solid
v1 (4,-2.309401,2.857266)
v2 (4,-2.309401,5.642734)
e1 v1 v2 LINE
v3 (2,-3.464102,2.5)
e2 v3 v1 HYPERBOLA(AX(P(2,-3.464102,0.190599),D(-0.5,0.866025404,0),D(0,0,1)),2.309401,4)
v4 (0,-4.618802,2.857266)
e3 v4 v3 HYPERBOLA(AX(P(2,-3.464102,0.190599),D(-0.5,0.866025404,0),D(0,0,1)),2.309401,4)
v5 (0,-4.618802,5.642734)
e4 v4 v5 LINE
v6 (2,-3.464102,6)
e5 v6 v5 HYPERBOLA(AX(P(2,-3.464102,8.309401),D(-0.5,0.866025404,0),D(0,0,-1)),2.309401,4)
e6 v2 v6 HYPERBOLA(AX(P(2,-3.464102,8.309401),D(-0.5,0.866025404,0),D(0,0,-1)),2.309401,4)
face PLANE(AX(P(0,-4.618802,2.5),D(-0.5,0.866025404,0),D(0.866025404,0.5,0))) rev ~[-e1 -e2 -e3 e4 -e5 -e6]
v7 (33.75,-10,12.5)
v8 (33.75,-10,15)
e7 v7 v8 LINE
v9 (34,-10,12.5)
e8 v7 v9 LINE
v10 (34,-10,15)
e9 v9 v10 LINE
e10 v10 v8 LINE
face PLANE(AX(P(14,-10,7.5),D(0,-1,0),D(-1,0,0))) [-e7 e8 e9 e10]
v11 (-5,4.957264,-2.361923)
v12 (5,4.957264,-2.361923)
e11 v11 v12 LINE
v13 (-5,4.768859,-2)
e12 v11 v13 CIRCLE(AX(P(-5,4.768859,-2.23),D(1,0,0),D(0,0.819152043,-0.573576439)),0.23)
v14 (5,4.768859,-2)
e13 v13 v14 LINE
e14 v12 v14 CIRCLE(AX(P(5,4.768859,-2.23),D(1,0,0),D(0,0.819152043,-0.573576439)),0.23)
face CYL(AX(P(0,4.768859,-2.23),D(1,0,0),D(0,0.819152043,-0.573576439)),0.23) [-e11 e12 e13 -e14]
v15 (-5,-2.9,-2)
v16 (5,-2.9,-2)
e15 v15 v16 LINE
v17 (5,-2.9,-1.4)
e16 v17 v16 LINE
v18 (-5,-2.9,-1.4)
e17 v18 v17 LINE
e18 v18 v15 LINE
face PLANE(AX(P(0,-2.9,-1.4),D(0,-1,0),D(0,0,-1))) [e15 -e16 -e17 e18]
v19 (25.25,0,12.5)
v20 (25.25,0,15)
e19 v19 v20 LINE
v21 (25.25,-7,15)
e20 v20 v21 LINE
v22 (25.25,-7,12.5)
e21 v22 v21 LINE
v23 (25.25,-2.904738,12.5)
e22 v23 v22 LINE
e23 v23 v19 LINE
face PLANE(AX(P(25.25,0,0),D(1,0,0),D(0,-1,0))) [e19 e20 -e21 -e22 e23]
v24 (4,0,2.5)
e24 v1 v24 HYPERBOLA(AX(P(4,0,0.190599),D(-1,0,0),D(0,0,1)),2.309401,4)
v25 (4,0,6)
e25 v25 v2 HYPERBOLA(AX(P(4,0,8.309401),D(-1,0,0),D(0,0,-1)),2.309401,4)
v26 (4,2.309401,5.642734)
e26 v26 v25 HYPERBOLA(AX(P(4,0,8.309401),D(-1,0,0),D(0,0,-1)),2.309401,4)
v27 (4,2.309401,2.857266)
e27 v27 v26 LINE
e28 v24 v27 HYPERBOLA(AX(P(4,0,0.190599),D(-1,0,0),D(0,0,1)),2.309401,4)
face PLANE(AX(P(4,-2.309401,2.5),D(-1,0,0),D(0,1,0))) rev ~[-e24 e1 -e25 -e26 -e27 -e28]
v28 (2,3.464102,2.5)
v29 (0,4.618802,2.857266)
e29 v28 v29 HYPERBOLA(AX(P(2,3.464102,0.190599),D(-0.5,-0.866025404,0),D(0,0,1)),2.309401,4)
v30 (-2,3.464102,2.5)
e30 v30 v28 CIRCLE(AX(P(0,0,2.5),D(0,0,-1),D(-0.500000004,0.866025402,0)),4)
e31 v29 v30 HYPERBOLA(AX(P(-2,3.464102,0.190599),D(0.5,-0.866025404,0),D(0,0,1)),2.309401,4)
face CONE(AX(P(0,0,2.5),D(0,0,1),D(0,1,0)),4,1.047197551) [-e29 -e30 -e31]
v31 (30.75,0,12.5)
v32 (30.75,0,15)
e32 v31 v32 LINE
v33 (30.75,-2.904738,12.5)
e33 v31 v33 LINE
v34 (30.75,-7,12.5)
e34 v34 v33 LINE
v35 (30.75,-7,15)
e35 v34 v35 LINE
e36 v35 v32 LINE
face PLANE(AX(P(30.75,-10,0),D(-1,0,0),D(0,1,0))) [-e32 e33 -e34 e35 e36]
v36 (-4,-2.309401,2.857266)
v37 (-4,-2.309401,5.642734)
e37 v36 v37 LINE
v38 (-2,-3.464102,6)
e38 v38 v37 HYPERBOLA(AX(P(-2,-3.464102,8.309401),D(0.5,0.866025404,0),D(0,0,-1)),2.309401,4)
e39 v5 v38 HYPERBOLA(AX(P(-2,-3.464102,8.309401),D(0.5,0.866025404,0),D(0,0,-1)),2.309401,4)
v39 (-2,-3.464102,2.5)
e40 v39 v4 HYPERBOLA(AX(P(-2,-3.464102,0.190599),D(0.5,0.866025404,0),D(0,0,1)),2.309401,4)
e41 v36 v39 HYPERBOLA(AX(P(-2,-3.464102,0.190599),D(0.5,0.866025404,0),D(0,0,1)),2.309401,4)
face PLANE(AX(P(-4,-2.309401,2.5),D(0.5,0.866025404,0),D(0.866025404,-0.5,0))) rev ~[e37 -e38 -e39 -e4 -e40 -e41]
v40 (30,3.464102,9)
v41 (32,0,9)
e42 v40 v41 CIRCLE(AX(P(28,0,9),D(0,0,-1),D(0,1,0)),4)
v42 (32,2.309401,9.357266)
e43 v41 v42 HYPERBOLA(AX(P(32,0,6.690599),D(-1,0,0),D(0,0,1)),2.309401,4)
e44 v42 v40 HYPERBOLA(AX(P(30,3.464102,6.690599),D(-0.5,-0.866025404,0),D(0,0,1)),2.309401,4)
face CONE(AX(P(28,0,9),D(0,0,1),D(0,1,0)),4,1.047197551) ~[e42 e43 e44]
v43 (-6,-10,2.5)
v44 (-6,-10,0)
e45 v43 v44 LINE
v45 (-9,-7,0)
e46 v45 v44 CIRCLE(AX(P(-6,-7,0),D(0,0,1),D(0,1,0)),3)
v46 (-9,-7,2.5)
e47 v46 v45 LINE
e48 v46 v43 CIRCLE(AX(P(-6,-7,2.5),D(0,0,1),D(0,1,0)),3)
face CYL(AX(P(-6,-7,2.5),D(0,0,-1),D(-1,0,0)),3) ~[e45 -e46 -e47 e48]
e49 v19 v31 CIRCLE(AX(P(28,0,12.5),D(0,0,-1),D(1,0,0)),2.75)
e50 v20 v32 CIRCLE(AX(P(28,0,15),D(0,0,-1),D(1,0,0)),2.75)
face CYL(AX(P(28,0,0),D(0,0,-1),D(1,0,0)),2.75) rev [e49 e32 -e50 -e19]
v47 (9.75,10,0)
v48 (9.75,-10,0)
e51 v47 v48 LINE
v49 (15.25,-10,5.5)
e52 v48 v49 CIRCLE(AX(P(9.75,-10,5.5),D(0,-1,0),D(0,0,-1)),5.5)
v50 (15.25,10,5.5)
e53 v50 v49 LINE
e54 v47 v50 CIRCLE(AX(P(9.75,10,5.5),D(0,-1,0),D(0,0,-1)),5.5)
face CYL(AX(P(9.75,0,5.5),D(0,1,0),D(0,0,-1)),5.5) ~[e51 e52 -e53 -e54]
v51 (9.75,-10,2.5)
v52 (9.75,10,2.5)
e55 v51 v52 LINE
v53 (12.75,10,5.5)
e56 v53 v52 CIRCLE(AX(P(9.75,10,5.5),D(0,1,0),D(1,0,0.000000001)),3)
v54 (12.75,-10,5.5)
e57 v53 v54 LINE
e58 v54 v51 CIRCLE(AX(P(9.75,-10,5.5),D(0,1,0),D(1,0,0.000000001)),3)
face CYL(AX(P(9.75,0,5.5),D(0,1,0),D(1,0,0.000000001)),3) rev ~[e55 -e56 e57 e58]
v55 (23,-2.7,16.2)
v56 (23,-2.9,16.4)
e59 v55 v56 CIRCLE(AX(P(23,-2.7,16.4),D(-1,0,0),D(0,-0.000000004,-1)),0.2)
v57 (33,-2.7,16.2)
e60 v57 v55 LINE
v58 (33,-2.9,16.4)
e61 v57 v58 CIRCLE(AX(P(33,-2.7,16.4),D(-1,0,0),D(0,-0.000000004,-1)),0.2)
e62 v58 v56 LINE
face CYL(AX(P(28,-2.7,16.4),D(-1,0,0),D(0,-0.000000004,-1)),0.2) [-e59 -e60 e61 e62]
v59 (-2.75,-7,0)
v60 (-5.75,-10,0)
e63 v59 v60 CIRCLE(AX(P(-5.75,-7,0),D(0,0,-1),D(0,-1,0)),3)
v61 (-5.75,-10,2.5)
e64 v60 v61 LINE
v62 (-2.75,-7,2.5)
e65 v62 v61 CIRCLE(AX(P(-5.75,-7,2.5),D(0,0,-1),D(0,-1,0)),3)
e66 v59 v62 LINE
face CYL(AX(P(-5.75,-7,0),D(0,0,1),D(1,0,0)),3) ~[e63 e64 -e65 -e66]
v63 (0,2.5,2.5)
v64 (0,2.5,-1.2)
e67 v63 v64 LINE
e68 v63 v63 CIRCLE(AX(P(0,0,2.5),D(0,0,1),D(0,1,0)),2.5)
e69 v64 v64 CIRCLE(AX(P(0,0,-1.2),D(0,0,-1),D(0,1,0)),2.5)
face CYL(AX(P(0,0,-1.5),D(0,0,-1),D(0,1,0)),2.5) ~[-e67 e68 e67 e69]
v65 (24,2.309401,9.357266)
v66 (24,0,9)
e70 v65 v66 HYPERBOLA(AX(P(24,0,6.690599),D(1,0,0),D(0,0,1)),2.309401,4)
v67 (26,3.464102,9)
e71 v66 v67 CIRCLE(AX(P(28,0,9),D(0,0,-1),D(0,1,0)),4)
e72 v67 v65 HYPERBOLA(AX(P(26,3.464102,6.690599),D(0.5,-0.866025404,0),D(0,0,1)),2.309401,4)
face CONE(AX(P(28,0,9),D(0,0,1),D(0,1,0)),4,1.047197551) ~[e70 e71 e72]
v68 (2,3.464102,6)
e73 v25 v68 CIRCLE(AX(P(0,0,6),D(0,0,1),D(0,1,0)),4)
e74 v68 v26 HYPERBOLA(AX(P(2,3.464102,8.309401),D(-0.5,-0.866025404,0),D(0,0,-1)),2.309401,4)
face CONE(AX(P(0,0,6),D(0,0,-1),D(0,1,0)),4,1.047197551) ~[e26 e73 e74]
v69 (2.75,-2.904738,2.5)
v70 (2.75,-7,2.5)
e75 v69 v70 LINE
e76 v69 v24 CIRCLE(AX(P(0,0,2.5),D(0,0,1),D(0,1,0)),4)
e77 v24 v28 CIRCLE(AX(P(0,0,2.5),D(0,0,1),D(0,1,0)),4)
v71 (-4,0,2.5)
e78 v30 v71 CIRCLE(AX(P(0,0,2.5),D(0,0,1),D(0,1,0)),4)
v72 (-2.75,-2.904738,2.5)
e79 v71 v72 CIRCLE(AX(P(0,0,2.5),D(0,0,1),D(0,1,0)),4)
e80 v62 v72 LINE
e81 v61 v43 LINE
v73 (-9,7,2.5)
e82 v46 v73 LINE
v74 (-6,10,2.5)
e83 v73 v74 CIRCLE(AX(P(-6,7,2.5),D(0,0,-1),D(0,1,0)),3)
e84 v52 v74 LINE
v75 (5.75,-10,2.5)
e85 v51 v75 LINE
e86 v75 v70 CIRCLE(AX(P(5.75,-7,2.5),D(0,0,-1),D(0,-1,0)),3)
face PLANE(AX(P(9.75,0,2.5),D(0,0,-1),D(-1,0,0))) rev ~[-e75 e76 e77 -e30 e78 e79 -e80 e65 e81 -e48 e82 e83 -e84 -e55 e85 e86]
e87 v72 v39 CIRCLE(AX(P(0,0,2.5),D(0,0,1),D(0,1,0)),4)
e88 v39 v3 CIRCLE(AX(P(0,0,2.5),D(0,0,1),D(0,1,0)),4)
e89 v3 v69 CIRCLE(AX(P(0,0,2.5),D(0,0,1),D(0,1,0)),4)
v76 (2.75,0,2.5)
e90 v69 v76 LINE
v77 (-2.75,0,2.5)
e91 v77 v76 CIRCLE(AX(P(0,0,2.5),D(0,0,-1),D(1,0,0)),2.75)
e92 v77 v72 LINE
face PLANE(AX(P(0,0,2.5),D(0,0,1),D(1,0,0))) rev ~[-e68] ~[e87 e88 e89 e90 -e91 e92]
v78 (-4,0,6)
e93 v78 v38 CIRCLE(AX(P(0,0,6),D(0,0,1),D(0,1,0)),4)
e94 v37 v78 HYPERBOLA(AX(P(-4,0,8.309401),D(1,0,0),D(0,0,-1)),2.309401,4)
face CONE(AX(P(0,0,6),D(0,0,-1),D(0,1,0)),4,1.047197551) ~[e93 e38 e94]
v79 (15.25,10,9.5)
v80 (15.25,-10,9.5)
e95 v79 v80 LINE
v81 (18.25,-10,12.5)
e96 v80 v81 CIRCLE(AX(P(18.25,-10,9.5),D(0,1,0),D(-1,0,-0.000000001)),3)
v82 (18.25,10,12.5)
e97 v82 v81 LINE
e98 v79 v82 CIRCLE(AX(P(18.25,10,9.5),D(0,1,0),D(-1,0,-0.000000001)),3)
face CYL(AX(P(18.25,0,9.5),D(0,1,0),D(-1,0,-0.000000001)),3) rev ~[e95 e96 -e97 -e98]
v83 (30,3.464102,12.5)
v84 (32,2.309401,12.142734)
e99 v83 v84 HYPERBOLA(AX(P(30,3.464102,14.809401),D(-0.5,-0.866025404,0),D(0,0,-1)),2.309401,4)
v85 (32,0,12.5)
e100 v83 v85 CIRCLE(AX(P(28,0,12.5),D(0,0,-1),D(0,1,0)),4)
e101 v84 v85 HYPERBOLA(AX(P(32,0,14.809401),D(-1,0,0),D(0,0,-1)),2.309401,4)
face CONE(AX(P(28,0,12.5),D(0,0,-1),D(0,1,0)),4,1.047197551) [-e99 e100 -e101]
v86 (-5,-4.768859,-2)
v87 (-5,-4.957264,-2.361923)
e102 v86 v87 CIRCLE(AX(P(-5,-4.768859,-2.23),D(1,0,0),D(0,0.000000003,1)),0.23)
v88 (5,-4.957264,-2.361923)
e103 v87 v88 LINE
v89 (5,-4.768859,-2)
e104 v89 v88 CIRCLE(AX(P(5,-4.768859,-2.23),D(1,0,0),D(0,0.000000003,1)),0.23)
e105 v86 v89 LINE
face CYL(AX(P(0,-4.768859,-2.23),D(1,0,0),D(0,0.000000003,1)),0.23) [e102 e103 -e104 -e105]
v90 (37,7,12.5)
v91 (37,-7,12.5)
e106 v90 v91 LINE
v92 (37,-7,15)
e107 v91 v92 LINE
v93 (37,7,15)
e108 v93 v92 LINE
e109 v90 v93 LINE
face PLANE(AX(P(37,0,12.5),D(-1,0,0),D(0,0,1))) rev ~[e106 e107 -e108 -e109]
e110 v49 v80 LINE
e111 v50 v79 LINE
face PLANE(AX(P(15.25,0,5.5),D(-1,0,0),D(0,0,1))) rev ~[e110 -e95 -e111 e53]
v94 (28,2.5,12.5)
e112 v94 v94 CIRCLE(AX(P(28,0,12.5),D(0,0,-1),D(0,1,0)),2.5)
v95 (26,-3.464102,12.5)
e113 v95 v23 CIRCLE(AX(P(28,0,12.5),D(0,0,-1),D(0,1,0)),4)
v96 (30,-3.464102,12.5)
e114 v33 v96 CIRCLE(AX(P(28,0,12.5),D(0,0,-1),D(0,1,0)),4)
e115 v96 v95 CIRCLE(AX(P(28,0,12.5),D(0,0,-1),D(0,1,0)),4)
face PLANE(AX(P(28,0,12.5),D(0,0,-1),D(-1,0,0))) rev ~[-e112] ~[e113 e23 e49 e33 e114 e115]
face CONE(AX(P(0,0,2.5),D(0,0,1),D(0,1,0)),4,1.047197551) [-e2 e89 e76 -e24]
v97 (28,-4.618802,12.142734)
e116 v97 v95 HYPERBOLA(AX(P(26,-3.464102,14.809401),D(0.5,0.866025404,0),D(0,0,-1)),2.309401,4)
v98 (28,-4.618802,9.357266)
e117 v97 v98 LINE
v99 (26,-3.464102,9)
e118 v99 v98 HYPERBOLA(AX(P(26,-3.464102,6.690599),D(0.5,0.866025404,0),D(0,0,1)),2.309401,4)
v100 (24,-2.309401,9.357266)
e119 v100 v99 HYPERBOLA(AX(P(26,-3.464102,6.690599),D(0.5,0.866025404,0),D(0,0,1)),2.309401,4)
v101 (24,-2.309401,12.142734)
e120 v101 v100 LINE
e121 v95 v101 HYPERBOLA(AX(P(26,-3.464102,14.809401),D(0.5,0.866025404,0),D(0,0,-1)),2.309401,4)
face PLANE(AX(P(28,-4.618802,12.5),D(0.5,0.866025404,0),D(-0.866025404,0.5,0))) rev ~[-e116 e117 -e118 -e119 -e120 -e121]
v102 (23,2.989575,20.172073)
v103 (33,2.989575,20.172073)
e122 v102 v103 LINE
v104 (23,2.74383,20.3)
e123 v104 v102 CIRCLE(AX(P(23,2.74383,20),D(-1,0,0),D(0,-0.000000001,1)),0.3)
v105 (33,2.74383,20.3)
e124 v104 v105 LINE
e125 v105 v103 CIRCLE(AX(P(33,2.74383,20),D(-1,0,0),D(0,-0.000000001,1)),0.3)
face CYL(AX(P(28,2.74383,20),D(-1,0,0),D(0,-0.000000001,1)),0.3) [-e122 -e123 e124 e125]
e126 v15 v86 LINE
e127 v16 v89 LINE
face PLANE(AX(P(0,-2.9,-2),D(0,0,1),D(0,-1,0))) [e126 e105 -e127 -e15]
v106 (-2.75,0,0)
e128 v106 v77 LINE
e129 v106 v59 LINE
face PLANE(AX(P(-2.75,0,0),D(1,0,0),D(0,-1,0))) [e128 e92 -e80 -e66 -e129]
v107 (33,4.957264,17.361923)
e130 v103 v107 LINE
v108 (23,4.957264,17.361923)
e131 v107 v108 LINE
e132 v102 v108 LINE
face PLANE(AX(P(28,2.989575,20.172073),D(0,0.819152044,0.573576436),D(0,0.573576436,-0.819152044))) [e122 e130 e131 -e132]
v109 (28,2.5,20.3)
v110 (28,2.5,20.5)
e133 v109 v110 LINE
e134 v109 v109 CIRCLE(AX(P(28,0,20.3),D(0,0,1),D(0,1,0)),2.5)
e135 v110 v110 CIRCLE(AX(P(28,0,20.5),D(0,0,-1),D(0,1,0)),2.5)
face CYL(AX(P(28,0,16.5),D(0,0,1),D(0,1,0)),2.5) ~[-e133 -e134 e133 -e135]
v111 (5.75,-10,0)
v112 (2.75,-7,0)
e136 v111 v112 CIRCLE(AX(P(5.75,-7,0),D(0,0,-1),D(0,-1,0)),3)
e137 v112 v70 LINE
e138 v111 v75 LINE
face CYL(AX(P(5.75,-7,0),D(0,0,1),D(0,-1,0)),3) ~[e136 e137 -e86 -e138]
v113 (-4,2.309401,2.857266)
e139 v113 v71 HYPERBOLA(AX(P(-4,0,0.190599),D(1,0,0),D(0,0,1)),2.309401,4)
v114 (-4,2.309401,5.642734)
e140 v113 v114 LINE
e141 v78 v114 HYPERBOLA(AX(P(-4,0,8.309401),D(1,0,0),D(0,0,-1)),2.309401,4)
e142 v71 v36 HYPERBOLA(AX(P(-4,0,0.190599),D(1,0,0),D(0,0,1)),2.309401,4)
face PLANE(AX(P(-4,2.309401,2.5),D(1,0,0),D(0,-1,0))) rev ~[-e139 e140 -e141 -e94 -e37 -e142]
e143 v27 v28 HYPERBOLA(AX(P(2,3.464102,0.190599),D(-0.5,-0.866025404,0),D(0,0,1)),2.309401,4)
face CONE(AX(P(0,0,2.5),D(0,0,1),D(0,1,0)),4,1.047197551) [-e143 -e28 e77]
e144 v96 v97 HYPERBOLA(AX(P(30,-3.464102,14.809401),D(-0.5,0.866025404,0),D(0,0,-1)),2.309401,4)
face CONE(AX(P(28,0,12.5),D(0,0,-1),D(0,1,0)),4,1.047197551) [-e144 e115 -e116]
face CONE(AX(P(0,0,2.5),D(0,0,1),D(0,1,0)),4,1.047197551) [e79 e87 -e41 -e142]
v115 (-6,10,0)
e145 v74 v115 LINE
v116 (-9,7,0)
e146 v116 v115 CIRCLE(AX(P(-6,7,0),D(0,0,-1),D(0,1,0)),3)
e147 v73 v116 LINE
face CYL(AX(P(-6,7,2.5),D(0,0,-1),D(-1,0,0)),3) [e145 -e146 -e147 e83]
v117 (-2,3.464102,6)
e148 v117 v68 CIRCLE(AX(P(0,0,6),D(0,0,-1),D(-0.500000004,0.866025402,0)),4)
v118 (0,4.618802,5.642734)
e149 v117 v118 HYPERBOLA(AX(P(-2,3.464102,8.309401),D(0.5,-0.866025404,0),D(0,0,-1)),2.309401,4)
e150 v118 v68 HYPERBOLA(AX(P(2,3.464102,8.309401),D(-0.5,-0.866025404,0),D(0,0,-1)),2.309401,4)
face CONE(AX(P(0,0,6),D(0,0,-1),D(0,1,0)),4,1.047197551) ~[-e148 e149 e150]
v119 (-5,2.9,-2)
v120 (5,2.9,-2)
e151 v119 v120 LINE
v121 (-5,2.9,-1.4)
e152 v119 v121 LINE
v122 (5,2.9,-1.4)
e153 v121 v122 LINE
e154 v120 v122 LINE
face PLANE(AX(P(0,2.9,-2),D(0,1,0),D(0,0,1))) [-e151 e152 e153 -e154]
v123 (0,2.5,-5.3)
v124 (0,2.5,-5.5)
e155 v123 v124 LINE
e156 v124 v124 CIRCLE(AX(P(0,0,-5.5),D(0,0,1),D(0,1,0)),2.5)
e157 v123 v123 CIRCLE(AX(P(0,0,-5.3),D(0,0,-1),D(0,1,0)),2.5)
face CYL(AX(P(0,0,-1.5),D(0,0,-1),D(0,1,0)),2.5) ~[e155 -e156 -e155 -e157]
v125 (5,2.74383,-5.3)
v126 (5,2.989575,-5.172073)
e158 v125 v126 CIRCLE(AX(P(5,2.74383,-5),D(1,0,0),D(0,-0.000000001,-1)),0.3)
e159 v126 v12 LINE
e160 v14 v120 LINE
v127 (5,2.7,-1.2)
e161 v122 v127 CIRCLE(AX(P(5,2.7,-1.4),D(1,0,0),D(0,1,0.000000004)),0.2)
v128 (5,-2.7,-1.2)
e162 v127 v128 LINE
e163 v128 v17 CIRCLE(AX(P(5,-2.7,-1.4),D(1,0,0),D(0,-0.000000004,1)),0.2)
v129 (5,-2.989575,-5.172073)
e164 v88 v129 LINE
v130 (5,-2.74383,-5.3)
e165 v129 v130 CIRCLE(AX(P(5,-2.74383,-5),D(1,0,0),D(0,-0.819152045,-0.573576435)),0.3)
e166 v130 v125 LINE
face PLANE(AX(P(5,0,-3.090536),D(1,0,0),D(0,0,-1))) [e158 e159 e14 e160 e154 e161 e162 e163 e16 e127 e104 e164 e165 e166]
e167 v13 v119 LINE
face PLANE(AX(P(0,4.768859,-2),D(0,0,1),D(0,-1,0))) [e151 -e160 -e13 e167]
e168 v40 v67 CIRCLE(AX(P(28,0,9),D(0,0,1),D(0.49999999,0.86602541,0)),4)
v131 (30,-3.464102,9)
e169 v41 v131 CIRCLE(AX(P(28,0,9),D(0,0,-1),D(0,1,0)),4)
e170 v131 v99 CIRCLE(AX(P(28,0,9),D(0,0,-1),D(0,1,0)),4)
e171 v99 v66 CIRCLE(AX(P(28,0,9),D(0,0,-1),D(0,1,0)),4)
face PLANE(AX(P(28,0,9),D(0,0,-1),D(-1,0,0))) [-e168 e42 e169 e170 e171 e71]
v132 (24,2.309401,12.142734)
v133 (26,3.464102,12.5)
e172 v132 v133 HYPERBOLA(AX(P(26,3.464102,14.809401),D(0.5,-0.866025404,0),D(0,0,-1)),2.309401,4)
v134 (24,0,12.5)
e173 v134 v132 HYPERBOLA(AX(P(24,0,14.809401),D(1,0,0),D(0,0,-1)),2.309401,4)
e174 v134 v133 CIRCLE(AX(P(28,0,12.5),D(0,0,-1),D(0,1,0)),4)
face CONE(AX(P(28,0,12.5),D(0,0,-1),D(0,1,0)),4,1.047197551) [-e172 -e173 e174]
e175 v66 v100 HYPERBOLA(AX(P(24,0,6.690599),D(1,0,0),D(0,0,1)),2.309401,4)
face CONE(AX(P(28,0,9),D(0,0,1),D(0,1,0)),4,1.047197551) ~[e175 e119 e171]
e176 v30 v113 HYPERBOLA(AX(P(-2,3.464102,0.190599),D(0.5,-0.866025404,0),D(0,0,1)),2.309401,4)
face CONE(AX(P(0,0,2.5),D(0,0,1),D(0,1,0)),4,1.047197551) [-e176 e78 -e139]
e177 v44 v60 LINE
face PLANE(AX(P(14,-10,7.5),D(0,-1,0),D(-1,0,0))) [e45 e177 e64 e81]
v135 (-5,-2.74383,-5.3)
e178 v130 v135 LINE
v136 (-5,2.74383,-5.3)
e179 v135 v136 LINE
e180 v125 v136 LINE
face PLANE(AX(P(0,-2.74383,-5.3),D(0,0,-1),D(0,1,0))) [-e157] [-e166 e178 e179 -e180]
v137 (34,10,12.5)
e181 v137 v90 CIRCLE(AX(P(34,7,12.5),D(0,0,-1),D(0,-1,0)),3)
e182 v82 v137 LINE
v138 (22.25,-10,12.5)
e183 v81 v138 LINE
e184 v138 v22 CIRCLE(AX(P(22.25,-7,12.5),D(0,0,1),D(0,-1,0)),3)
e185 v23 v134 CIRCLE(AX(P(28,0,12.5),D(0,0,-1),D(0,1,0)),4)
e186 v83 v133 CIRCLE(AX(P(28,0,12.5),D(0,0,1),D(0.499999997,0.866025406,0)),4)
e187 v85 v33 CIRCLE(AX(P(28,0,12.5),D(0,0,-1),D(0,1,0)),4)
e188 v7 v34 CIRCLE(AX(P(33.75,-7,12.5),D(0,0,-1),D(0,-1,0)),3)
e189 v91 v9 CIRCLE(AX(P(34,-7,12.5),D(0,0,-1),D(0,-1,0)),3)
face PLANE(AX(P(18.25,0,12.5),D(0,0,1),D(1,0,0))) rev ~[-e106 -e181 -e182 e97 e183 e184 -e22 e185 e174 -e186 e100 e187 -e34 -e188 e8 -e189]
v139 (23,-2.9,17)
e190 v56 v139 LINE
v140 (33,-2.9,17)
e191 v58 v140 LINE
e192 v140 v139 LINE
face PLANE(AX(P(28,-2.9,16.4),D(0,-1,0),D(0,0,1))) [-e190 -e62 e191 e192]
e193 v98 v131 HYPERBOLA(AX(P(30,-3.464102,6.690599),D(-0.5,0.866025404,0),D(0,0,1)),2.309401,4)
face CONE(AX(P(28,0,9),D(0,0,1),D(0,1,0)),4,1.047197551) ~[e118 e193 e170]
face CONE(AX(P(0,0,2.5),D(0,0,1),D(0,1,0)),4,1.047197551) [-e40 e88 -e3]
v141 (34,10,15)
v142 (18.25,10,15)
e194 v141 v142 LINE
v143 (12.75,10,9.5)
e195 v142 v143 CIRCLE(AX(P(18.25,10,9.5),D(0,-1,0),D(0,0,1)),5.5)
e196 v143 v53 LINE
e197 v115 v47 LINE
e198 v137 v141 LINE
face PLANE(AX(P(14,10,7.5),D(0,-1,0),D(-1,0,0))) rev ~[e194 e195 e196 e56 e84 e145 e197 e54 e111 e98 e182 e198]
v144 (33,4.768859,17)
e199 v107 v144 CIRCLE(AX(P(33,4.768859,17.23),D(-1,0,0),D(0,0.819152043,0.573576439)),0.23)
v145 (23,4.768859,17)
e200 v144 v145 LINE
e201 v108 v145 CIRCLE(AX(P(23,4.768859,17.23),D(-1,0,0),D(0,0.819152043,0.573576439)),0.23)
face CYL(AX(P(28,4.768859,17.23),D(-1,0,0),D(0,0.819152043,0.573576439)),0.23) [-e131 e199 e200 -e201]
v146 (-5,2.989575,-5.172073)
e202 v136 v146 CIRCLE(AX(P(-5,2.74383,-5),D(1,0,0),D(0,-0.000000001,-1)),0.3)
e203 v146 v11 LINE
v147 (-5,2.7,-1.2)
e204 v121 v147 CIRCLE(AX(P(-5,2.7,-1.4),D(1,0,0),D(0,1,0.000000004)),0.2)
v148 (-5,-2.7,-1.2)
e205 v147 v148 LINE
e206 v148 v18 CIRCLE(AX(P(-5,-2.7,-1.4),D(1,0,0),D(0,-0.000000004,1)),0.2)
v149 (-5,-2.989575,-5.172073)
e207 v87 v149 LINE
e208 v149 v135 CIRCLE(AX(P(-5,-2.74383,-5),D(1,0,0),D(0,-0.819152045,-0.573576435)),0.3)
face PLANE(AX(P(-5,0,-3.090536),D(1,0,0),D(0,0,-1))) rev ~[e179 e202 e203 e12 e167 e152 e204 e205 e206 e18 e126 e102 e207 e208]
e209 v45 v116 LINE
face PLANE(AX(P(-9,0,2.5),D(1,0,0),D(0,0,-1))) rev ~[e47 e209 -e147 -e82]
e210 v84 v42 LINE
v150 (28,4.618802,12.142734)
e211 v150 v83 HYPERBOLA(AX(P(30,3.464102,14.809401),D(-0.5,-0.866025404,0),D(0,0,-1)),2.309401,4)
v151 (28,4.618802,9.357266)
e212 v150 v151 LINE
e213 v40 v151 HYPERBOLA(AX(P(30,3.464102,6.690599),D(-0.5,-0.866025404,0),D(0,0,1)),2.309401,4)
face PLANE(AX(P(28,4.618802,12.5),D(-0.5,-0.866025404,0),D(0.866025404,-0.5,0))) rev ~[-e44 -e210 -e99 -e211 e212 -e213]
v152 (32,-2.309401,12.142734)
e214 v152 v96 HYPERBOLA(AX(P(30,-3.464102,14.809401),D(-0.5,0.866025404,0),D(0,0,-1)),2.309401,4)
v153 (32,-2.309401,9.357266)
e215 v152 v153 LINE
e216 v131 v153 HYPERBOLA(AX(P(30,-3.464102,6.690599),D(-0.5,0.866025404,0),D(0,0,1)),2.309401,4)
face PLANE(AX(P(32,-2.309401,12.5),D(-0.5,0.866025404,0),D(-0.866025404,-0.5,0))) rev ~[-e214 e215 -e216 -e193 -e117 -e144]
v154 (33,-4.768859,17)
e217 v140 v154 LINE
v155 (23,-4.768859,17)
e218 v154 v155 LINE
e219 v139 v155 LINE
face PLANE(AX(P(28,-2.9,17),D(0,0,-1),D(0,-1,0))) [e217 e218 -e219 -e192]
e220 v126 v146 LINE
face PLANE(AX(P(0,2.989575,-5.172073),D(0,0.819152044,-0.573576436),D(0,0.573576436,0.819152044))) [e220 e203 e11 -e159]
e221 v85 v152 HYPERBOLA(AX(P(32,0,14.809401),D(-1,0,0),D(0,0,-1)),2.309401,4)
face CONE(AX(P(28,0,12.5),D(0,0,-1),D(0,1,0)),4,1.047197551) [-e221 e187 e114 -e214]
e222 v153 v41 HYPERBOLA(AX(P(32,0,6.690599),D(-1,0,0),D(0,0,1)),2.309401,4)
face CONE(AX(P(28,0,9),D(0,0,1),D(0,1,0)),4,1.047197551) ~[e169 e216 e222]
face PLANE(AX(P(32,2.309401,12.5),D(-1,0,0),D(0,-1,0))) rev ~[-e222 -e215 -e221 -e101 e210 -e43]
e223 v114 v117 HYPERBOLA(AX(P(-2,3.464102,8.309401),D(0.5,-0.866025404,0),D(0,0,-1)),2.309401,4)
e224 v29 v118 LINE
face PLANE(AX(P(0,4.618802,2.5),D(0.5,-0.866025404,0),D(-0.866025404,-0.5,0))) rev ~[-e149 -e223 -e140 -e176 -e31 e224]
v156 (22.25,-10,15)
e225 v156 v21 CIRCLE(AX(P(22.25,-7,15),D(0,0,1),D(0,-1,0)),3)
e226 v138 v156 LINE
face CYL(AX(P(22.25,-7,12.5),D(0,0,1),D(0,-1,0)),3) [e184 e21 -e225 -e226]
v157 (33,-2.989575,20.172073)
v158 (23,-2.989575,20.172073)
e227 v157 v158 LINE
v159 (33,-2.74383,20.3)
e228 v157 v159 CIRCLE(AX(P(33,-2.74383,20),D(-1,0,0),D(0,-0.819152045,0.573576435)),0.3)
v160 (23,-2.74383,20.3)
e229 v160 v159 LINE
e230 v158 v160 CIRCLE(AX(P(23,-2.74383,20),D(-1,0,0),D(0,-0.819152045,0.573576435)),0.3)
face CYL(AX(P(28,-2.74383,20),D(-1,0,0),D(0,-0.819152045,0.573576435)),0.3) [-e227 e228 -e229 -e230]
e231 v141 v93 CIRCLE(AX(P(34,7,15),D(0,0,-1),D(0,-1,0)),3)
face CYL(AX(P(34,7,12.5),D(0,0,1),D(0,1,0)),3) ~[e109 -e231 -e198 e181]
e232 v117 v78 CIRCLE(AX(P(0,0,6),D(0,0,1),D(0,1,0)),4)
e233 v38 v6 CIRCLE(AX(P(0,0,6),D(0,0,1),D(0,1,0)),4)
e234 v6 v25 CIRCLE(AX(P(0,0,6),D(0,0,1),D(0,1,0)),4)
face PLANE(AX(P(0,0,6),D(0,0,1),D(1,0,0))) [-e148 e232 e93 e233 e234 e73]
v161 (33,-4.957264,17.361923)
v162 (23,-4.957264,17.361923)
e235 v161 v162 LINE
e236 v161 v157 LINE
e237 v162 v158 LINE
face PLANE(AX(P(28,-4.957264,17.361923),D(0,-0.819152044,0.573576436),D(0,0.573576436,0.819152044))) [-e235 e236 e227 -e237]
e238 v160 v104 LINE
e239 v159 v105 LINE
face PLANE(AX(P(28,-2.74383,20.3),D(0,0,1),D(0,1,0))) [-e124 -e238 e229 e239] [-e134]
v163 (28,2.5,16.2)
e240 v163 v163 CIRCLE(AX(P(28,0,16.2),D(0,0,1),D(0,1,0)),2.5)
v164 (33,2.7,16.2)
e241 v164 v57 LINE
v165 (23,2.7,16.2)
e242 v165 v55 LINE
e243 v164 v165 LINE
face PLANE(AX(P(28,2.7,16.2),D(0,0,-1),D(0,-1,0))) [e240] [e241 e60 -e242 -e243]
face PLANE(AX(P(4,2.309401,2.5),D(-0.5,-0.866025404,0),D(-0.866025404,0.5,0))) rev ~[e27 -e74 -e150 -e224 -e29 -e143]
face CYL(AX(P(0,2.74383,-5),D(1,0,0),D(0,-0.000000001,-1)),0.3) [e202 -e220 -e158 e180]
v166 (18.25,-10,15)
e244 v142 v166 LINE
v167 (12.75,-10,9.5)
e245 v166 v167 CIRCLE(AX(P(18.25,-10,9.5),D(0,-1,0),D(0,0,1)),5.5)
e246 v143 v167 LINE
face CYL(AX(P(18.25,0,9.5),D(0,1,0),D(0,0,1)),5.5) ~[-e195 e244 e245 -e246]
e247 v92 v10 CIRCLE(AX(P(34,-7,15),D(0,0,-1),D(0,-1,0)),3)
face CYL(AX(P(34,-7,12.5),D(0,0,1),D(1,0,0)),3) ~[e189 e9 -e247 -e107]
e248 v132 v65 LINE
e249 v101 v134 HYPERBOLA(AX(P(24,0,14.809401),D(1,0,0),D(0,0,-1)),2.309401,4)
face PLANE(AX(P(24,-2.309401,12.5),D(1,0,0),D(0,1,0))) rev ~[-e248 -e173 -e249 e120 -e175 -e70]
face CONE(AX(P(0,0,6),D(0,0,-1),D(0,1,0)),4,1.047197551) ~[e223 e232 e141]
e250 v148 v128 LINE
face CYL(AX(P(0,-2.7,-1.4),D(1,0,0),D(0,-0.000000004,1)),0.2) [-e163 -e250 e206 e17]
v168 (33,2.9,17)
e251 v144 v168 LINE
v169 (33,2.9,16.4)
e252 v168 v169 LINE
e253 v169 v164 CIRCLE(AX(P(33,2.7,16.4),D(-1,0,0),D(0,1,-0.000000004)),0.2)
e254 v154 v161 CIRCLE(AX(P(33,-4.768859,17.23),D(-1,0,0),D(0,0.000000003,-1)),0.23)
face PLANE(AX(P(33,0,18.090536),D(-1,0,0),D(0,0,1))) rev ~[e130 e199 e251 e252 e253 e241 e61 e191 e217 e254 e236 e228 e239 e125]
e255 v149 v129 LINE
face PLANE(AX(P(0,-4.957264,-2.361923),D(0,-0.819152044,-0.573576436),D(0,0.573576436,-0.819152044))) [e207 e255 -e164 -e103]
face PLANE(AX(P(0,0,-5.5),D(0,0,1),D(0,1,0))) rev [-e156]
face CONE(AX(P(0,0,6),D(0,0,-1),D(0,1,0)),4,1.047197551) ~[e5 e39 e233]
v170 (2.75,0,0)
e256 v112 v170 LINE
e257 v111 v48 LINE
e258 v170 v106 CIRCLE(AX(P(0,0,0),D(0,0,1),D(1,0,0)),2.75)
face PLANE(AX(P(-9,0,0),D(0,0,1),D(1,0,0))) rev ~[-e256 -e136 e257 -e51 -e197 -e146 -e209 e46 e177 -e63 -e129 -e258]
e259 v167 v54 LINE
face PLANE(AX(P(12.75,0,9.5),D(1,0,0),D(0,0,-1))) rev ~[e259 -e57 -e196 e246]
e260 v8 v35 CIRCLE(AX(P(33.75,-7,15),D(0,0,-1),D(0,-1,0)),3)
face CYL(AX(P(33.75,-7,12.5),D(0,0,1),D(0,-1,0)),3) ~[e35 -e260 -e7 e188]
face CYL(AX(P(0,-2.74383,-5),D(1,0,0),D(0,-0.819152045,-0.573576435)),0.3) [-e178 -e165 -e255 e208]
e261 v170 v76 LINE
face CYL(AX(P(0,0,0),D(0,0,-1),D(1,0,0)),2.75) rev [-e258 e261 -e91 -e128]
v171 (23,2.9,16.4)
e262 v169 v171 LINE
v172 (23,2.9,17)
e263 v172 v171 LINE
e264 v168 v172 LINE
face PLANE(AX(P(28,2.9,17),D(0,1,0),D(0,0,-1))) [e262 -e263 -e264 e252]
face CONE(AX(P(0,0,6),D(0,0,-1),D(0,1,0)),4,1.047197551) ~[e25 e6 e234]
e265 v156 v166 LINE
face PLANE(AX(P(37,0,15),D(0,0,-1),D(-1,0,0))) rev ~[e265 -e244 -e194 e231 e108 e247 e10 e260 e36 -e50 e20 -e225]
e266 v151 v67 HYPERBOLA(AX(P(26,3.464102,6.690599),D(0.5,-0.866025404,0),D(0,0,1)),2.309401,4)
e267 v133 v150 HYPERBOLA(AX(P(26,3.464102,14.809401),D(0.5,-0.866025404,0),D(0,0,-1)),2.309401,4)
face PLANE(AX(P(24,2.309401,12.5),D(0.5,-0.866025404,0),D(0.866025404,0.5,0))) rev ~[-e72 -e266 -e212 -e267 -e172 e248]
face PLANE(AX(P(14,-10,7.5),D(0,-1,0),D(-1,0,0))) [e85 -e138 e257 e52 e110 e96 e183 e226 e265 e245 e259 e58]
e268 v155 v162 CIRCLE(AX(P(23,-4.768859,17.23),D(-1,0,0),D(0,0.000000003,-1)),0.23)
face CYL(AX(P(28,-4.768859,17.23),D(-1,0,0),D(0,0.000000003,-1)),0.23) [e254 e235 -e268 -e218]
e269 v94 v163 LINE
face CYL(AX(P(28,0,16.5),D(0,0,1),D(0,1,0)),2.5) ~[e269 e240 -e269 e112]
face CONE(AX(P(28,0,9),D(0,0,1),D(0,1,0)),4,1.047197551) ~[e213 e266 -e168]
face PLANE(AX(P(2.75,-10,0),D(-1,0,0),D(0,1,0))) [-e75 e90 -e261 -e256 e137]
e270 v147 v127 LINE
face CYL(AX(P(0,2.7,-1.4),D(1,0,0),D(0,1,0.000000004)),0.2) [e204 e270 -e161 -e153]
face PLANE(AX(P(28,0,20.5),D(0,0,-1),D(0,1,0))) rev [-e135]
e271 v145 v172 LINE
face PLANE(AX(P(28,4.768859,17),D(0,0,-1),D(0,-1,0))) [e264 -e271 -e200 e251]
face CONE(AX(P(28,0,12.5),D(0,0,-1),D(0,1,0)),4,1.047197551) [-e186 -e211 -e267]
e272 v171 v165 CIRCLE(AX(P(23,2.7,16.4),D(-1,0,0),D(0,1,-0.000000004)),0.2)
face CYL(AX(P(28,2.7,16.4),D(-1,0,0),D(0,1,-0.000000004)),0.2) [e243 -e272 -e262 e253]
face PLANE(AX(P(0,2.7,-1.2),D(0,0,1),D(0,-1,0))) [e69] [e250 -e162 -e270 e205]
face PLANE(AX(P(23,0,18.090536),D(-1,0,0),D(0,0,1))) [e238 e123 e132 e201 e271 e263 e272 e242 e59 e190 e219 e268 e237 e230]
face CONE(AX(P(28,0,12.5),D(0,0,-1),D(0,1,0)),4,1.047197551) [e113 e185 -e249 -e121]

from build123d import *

# Parameters (mm, degrees)
BOSS_EXTRUDE1_DEPTH = 10
CUT_EXTRUDE1_DEPTH  = 42.158231255
FILLET1_R           = 3
BOSS_EXTRUDE2_DEPTH = 3.5
SKETCH4_W           = 8
SKETCH4_H           = 2.5
BOSS_EXTRUDE3_DEPTH = 5
CIRPATTERN1_COUNT   = 2
CIRPATTERN1_ANGLE   = 180


with BuildPart() as part:
    # Sketch1 → Boss-Extrude1 (new, symmetric)
    with BuildSketch(Plane(origin=(0, 0, 0), x_dir=(1, 0, 0), z_dir=(0, 1, 0))):
        with BuildLine():
            Line((-9, 0), (9.75, 0))
            ThreePointArc((9.75, 0), (13.639087297, -1.610912703), (15.25, -5.5))
            Line((15.25, -5.5), (15.25, -9.5))
            ThreePointArc((15.25, -9.5), (16.128679656, -11.621320344), (18.25, -12.5))
            Line((18.25, -12.5), (37, -12.5))
            Line((37, -12.5), (37, -15))
            Line((37, -15), (18.25, -15))
            ThreePointArc((18.25, -15), (14.360912703, -13.389087297), (12.75, -9.5))
            Line((12.75, -9.5), (12.75, -5.5))
            ThreePointArc((12.75, -5.5), (11.871320344, -3.378679656), (9.75, -2.5))
            Line((9.75, -2.5), (-9, -2.5))
            Line((-9, -2.5), (-9, 0))
        make_face()
    extrude(amount=BOSS_EXTRUDE1_DEPTH, both=True)

    # Sketch2 → Cut-Extrude1 (cut, through all)
    with BuildSketch(Plane.XY):
        with BuildLine():
            Line((-2.75, 0), (-2.75, -10))
            Line((-2.75, -10), (2.75, -10))
            Line((2.75, -10), (2.75, 0))
            ThreePointArc((2.75, 0), (0, 2.75), (-2.75, 0))
        make_face()
        with BuildLine():
            Line((25.25, 0), (25.25, -10))
            Line((25.25, -10), (30.75, -10))
            Line((30.75, -10), (30.75, 0))
            ThreePointArc((30.75, 0), (28, 2.75), (25.25, 0))
        make_face()
    extrude(amount=CUT_EXTRUDE1_DEPTH, mode=Mode.SUBTRACT)

    # Fillet1
    fillet1_edges = [part.edges().sort_by_distance(p)[0] for p in [
        (37, -10, 13.75),
        (-9, -10, 1.25),
        (37, 10, 13.75),
        (2.75, -10, 1.25),
        (-2.75, -10, 1.25),
        (-9, 10, 1.25),
        (25.25, -10, 13.75),
        (30.75, -10, 13.75),
    ]]
    fillet(fillet1_edges, radius=FILLET1_R)

    # Sketch3 → Boss-Extrude2 (add)
    with BuildSketch(Plane.XY.offset(2.5)):
        Polygon((0, 4.618802154), (-4, 2.309401077), (-4, -2.309401077), (0, -4.618802154), (4, -2.309401077), (4, 2.309401077), align=None)
    boss_extrude2 = extrude(amount=BOSS_EXTRUDE2_DEPTH)

    # Sketch4 → Revolve1 (revolve)
    with BuildSketch(Plane(origin=(0, 0, 0), x_dir=(0, 0, -1), z_dir=(1, 0, 0))):
        with Locations((1.5, 1.25)):
            Rectangle(SKETCH4_W, SKETCH4_H)
    revolve1 = revolve(axis=Axis((0, 0, -5.5), (0, 0, 1)))

    # Sketch5 → Cut-Revolve1 (revolve, cut)
    with BuildSketch(Plane(origin=(0, 0, 0), x_dir=(0, 0, -1), z_dir=(1, 0, 0))):
        Polygon((-2.5, 4.618802154), (-2.5, 4), (-2.85726559, 4.618802154), align=None)
        Polygon((-5.64273441, 4.618802154), (-6, 4.618802154), (-6, 4), align=None)
    cut_revolve1 = revolve(axis=Axis((0, 0, 2.5), (0, 0, 1)), mode=Mode.SUBTRACT)

    # Sketch6 → Boss-Extrude3 (add, symmetric)
    with BuildSketch(Plane(origin=(0, 0, 0), x_dir=(0, 0, -1), z_dir=(1, 0, 0))):
        with BuildLine():
            Line((5.172072931, 2.989575498), (2.36192258, 4.957263957))
            ThreePointArc((2.36192258, 4.957263957), (2.123797819, 4.972871479), (2, 4.768858987))
            Line((2, 4.768858987), (2, 2.9))
            Line((2, 2.9), (1.4, 2.9))
            ThreePointArc((1.4, 2.9), (1.258578644, 2.841421356), (1.2, 2.7))
            Line((1.2, 2.7), (1.2, -2.7))
            ThreePointArc((1.2, -2.7), (1.258578644, -2.841421356), (1.4, -2.9))
            Line((1.4, -2.9), (2, -2.9))
            Line((2, -2.9), (2, -4.768858987))
            ThreePointArc((2, -4.768858987), (2.123797819, -4.972871479), (2.36192258, -4.957263957))
            Line((2.36192258, -4.957263957), (5.172072931, -2.989575498))
            ThreePointArc((5.172072931, -2.989575498), (5.26610325, -2.882354469), (5.3, -2.743829885))
            Line((5.3, -2.743829885), (5.3, 2.743829885))
            ThreePointArc((5.3, 2.743829885), (5.26610325, 2.882354469), (5.172072931, 2.989575498))
        make_face()
    boss_extrude3 = extrude(amount=BOSS_EXTRUDE3_DEPTH, both=True)

    # CirPattern1: Boss-Extrude2, Revolve1, Cut-Revolve1, Boss-Extrude3 ×2 about axis
    cirpattern1_axis = Axis((14, 11, 7.5), (0, -1, 0))
    add([boss_extrude2.rotate(cirpattern1_axis, i * CIRPATTERN1_ANGLE / (CIRPATTERN1_COUNT - 1)) for i in range(1, CIRPATTERN1_COUNT)])
    add([revolve1.rotate(cirpattern1_axis, i * CIRPATTERN1_ANGLE / (CIRPATTERN1_COUNT - 1)) for i in range(1, CIRPATTERN1_COUNT)])
    add([cut_revolve1.rotate(cirpattern1_axis, i * CIRPATTERN1_ANGLE / (CIRPATTERN1_COUNT - 1)) for i in range(1, CIRPATTERN1_COUNT)], mode=Mode.SUBTRACT)
    add([boss_extrude3.rotate(cirpattern1_axis, i * CIRPATTERN1_ANGLE / (CIRPATTERN1_COUNT - 1)) for i in range(1, CIRPATTERN1_COUNT)])


solid = part.part
